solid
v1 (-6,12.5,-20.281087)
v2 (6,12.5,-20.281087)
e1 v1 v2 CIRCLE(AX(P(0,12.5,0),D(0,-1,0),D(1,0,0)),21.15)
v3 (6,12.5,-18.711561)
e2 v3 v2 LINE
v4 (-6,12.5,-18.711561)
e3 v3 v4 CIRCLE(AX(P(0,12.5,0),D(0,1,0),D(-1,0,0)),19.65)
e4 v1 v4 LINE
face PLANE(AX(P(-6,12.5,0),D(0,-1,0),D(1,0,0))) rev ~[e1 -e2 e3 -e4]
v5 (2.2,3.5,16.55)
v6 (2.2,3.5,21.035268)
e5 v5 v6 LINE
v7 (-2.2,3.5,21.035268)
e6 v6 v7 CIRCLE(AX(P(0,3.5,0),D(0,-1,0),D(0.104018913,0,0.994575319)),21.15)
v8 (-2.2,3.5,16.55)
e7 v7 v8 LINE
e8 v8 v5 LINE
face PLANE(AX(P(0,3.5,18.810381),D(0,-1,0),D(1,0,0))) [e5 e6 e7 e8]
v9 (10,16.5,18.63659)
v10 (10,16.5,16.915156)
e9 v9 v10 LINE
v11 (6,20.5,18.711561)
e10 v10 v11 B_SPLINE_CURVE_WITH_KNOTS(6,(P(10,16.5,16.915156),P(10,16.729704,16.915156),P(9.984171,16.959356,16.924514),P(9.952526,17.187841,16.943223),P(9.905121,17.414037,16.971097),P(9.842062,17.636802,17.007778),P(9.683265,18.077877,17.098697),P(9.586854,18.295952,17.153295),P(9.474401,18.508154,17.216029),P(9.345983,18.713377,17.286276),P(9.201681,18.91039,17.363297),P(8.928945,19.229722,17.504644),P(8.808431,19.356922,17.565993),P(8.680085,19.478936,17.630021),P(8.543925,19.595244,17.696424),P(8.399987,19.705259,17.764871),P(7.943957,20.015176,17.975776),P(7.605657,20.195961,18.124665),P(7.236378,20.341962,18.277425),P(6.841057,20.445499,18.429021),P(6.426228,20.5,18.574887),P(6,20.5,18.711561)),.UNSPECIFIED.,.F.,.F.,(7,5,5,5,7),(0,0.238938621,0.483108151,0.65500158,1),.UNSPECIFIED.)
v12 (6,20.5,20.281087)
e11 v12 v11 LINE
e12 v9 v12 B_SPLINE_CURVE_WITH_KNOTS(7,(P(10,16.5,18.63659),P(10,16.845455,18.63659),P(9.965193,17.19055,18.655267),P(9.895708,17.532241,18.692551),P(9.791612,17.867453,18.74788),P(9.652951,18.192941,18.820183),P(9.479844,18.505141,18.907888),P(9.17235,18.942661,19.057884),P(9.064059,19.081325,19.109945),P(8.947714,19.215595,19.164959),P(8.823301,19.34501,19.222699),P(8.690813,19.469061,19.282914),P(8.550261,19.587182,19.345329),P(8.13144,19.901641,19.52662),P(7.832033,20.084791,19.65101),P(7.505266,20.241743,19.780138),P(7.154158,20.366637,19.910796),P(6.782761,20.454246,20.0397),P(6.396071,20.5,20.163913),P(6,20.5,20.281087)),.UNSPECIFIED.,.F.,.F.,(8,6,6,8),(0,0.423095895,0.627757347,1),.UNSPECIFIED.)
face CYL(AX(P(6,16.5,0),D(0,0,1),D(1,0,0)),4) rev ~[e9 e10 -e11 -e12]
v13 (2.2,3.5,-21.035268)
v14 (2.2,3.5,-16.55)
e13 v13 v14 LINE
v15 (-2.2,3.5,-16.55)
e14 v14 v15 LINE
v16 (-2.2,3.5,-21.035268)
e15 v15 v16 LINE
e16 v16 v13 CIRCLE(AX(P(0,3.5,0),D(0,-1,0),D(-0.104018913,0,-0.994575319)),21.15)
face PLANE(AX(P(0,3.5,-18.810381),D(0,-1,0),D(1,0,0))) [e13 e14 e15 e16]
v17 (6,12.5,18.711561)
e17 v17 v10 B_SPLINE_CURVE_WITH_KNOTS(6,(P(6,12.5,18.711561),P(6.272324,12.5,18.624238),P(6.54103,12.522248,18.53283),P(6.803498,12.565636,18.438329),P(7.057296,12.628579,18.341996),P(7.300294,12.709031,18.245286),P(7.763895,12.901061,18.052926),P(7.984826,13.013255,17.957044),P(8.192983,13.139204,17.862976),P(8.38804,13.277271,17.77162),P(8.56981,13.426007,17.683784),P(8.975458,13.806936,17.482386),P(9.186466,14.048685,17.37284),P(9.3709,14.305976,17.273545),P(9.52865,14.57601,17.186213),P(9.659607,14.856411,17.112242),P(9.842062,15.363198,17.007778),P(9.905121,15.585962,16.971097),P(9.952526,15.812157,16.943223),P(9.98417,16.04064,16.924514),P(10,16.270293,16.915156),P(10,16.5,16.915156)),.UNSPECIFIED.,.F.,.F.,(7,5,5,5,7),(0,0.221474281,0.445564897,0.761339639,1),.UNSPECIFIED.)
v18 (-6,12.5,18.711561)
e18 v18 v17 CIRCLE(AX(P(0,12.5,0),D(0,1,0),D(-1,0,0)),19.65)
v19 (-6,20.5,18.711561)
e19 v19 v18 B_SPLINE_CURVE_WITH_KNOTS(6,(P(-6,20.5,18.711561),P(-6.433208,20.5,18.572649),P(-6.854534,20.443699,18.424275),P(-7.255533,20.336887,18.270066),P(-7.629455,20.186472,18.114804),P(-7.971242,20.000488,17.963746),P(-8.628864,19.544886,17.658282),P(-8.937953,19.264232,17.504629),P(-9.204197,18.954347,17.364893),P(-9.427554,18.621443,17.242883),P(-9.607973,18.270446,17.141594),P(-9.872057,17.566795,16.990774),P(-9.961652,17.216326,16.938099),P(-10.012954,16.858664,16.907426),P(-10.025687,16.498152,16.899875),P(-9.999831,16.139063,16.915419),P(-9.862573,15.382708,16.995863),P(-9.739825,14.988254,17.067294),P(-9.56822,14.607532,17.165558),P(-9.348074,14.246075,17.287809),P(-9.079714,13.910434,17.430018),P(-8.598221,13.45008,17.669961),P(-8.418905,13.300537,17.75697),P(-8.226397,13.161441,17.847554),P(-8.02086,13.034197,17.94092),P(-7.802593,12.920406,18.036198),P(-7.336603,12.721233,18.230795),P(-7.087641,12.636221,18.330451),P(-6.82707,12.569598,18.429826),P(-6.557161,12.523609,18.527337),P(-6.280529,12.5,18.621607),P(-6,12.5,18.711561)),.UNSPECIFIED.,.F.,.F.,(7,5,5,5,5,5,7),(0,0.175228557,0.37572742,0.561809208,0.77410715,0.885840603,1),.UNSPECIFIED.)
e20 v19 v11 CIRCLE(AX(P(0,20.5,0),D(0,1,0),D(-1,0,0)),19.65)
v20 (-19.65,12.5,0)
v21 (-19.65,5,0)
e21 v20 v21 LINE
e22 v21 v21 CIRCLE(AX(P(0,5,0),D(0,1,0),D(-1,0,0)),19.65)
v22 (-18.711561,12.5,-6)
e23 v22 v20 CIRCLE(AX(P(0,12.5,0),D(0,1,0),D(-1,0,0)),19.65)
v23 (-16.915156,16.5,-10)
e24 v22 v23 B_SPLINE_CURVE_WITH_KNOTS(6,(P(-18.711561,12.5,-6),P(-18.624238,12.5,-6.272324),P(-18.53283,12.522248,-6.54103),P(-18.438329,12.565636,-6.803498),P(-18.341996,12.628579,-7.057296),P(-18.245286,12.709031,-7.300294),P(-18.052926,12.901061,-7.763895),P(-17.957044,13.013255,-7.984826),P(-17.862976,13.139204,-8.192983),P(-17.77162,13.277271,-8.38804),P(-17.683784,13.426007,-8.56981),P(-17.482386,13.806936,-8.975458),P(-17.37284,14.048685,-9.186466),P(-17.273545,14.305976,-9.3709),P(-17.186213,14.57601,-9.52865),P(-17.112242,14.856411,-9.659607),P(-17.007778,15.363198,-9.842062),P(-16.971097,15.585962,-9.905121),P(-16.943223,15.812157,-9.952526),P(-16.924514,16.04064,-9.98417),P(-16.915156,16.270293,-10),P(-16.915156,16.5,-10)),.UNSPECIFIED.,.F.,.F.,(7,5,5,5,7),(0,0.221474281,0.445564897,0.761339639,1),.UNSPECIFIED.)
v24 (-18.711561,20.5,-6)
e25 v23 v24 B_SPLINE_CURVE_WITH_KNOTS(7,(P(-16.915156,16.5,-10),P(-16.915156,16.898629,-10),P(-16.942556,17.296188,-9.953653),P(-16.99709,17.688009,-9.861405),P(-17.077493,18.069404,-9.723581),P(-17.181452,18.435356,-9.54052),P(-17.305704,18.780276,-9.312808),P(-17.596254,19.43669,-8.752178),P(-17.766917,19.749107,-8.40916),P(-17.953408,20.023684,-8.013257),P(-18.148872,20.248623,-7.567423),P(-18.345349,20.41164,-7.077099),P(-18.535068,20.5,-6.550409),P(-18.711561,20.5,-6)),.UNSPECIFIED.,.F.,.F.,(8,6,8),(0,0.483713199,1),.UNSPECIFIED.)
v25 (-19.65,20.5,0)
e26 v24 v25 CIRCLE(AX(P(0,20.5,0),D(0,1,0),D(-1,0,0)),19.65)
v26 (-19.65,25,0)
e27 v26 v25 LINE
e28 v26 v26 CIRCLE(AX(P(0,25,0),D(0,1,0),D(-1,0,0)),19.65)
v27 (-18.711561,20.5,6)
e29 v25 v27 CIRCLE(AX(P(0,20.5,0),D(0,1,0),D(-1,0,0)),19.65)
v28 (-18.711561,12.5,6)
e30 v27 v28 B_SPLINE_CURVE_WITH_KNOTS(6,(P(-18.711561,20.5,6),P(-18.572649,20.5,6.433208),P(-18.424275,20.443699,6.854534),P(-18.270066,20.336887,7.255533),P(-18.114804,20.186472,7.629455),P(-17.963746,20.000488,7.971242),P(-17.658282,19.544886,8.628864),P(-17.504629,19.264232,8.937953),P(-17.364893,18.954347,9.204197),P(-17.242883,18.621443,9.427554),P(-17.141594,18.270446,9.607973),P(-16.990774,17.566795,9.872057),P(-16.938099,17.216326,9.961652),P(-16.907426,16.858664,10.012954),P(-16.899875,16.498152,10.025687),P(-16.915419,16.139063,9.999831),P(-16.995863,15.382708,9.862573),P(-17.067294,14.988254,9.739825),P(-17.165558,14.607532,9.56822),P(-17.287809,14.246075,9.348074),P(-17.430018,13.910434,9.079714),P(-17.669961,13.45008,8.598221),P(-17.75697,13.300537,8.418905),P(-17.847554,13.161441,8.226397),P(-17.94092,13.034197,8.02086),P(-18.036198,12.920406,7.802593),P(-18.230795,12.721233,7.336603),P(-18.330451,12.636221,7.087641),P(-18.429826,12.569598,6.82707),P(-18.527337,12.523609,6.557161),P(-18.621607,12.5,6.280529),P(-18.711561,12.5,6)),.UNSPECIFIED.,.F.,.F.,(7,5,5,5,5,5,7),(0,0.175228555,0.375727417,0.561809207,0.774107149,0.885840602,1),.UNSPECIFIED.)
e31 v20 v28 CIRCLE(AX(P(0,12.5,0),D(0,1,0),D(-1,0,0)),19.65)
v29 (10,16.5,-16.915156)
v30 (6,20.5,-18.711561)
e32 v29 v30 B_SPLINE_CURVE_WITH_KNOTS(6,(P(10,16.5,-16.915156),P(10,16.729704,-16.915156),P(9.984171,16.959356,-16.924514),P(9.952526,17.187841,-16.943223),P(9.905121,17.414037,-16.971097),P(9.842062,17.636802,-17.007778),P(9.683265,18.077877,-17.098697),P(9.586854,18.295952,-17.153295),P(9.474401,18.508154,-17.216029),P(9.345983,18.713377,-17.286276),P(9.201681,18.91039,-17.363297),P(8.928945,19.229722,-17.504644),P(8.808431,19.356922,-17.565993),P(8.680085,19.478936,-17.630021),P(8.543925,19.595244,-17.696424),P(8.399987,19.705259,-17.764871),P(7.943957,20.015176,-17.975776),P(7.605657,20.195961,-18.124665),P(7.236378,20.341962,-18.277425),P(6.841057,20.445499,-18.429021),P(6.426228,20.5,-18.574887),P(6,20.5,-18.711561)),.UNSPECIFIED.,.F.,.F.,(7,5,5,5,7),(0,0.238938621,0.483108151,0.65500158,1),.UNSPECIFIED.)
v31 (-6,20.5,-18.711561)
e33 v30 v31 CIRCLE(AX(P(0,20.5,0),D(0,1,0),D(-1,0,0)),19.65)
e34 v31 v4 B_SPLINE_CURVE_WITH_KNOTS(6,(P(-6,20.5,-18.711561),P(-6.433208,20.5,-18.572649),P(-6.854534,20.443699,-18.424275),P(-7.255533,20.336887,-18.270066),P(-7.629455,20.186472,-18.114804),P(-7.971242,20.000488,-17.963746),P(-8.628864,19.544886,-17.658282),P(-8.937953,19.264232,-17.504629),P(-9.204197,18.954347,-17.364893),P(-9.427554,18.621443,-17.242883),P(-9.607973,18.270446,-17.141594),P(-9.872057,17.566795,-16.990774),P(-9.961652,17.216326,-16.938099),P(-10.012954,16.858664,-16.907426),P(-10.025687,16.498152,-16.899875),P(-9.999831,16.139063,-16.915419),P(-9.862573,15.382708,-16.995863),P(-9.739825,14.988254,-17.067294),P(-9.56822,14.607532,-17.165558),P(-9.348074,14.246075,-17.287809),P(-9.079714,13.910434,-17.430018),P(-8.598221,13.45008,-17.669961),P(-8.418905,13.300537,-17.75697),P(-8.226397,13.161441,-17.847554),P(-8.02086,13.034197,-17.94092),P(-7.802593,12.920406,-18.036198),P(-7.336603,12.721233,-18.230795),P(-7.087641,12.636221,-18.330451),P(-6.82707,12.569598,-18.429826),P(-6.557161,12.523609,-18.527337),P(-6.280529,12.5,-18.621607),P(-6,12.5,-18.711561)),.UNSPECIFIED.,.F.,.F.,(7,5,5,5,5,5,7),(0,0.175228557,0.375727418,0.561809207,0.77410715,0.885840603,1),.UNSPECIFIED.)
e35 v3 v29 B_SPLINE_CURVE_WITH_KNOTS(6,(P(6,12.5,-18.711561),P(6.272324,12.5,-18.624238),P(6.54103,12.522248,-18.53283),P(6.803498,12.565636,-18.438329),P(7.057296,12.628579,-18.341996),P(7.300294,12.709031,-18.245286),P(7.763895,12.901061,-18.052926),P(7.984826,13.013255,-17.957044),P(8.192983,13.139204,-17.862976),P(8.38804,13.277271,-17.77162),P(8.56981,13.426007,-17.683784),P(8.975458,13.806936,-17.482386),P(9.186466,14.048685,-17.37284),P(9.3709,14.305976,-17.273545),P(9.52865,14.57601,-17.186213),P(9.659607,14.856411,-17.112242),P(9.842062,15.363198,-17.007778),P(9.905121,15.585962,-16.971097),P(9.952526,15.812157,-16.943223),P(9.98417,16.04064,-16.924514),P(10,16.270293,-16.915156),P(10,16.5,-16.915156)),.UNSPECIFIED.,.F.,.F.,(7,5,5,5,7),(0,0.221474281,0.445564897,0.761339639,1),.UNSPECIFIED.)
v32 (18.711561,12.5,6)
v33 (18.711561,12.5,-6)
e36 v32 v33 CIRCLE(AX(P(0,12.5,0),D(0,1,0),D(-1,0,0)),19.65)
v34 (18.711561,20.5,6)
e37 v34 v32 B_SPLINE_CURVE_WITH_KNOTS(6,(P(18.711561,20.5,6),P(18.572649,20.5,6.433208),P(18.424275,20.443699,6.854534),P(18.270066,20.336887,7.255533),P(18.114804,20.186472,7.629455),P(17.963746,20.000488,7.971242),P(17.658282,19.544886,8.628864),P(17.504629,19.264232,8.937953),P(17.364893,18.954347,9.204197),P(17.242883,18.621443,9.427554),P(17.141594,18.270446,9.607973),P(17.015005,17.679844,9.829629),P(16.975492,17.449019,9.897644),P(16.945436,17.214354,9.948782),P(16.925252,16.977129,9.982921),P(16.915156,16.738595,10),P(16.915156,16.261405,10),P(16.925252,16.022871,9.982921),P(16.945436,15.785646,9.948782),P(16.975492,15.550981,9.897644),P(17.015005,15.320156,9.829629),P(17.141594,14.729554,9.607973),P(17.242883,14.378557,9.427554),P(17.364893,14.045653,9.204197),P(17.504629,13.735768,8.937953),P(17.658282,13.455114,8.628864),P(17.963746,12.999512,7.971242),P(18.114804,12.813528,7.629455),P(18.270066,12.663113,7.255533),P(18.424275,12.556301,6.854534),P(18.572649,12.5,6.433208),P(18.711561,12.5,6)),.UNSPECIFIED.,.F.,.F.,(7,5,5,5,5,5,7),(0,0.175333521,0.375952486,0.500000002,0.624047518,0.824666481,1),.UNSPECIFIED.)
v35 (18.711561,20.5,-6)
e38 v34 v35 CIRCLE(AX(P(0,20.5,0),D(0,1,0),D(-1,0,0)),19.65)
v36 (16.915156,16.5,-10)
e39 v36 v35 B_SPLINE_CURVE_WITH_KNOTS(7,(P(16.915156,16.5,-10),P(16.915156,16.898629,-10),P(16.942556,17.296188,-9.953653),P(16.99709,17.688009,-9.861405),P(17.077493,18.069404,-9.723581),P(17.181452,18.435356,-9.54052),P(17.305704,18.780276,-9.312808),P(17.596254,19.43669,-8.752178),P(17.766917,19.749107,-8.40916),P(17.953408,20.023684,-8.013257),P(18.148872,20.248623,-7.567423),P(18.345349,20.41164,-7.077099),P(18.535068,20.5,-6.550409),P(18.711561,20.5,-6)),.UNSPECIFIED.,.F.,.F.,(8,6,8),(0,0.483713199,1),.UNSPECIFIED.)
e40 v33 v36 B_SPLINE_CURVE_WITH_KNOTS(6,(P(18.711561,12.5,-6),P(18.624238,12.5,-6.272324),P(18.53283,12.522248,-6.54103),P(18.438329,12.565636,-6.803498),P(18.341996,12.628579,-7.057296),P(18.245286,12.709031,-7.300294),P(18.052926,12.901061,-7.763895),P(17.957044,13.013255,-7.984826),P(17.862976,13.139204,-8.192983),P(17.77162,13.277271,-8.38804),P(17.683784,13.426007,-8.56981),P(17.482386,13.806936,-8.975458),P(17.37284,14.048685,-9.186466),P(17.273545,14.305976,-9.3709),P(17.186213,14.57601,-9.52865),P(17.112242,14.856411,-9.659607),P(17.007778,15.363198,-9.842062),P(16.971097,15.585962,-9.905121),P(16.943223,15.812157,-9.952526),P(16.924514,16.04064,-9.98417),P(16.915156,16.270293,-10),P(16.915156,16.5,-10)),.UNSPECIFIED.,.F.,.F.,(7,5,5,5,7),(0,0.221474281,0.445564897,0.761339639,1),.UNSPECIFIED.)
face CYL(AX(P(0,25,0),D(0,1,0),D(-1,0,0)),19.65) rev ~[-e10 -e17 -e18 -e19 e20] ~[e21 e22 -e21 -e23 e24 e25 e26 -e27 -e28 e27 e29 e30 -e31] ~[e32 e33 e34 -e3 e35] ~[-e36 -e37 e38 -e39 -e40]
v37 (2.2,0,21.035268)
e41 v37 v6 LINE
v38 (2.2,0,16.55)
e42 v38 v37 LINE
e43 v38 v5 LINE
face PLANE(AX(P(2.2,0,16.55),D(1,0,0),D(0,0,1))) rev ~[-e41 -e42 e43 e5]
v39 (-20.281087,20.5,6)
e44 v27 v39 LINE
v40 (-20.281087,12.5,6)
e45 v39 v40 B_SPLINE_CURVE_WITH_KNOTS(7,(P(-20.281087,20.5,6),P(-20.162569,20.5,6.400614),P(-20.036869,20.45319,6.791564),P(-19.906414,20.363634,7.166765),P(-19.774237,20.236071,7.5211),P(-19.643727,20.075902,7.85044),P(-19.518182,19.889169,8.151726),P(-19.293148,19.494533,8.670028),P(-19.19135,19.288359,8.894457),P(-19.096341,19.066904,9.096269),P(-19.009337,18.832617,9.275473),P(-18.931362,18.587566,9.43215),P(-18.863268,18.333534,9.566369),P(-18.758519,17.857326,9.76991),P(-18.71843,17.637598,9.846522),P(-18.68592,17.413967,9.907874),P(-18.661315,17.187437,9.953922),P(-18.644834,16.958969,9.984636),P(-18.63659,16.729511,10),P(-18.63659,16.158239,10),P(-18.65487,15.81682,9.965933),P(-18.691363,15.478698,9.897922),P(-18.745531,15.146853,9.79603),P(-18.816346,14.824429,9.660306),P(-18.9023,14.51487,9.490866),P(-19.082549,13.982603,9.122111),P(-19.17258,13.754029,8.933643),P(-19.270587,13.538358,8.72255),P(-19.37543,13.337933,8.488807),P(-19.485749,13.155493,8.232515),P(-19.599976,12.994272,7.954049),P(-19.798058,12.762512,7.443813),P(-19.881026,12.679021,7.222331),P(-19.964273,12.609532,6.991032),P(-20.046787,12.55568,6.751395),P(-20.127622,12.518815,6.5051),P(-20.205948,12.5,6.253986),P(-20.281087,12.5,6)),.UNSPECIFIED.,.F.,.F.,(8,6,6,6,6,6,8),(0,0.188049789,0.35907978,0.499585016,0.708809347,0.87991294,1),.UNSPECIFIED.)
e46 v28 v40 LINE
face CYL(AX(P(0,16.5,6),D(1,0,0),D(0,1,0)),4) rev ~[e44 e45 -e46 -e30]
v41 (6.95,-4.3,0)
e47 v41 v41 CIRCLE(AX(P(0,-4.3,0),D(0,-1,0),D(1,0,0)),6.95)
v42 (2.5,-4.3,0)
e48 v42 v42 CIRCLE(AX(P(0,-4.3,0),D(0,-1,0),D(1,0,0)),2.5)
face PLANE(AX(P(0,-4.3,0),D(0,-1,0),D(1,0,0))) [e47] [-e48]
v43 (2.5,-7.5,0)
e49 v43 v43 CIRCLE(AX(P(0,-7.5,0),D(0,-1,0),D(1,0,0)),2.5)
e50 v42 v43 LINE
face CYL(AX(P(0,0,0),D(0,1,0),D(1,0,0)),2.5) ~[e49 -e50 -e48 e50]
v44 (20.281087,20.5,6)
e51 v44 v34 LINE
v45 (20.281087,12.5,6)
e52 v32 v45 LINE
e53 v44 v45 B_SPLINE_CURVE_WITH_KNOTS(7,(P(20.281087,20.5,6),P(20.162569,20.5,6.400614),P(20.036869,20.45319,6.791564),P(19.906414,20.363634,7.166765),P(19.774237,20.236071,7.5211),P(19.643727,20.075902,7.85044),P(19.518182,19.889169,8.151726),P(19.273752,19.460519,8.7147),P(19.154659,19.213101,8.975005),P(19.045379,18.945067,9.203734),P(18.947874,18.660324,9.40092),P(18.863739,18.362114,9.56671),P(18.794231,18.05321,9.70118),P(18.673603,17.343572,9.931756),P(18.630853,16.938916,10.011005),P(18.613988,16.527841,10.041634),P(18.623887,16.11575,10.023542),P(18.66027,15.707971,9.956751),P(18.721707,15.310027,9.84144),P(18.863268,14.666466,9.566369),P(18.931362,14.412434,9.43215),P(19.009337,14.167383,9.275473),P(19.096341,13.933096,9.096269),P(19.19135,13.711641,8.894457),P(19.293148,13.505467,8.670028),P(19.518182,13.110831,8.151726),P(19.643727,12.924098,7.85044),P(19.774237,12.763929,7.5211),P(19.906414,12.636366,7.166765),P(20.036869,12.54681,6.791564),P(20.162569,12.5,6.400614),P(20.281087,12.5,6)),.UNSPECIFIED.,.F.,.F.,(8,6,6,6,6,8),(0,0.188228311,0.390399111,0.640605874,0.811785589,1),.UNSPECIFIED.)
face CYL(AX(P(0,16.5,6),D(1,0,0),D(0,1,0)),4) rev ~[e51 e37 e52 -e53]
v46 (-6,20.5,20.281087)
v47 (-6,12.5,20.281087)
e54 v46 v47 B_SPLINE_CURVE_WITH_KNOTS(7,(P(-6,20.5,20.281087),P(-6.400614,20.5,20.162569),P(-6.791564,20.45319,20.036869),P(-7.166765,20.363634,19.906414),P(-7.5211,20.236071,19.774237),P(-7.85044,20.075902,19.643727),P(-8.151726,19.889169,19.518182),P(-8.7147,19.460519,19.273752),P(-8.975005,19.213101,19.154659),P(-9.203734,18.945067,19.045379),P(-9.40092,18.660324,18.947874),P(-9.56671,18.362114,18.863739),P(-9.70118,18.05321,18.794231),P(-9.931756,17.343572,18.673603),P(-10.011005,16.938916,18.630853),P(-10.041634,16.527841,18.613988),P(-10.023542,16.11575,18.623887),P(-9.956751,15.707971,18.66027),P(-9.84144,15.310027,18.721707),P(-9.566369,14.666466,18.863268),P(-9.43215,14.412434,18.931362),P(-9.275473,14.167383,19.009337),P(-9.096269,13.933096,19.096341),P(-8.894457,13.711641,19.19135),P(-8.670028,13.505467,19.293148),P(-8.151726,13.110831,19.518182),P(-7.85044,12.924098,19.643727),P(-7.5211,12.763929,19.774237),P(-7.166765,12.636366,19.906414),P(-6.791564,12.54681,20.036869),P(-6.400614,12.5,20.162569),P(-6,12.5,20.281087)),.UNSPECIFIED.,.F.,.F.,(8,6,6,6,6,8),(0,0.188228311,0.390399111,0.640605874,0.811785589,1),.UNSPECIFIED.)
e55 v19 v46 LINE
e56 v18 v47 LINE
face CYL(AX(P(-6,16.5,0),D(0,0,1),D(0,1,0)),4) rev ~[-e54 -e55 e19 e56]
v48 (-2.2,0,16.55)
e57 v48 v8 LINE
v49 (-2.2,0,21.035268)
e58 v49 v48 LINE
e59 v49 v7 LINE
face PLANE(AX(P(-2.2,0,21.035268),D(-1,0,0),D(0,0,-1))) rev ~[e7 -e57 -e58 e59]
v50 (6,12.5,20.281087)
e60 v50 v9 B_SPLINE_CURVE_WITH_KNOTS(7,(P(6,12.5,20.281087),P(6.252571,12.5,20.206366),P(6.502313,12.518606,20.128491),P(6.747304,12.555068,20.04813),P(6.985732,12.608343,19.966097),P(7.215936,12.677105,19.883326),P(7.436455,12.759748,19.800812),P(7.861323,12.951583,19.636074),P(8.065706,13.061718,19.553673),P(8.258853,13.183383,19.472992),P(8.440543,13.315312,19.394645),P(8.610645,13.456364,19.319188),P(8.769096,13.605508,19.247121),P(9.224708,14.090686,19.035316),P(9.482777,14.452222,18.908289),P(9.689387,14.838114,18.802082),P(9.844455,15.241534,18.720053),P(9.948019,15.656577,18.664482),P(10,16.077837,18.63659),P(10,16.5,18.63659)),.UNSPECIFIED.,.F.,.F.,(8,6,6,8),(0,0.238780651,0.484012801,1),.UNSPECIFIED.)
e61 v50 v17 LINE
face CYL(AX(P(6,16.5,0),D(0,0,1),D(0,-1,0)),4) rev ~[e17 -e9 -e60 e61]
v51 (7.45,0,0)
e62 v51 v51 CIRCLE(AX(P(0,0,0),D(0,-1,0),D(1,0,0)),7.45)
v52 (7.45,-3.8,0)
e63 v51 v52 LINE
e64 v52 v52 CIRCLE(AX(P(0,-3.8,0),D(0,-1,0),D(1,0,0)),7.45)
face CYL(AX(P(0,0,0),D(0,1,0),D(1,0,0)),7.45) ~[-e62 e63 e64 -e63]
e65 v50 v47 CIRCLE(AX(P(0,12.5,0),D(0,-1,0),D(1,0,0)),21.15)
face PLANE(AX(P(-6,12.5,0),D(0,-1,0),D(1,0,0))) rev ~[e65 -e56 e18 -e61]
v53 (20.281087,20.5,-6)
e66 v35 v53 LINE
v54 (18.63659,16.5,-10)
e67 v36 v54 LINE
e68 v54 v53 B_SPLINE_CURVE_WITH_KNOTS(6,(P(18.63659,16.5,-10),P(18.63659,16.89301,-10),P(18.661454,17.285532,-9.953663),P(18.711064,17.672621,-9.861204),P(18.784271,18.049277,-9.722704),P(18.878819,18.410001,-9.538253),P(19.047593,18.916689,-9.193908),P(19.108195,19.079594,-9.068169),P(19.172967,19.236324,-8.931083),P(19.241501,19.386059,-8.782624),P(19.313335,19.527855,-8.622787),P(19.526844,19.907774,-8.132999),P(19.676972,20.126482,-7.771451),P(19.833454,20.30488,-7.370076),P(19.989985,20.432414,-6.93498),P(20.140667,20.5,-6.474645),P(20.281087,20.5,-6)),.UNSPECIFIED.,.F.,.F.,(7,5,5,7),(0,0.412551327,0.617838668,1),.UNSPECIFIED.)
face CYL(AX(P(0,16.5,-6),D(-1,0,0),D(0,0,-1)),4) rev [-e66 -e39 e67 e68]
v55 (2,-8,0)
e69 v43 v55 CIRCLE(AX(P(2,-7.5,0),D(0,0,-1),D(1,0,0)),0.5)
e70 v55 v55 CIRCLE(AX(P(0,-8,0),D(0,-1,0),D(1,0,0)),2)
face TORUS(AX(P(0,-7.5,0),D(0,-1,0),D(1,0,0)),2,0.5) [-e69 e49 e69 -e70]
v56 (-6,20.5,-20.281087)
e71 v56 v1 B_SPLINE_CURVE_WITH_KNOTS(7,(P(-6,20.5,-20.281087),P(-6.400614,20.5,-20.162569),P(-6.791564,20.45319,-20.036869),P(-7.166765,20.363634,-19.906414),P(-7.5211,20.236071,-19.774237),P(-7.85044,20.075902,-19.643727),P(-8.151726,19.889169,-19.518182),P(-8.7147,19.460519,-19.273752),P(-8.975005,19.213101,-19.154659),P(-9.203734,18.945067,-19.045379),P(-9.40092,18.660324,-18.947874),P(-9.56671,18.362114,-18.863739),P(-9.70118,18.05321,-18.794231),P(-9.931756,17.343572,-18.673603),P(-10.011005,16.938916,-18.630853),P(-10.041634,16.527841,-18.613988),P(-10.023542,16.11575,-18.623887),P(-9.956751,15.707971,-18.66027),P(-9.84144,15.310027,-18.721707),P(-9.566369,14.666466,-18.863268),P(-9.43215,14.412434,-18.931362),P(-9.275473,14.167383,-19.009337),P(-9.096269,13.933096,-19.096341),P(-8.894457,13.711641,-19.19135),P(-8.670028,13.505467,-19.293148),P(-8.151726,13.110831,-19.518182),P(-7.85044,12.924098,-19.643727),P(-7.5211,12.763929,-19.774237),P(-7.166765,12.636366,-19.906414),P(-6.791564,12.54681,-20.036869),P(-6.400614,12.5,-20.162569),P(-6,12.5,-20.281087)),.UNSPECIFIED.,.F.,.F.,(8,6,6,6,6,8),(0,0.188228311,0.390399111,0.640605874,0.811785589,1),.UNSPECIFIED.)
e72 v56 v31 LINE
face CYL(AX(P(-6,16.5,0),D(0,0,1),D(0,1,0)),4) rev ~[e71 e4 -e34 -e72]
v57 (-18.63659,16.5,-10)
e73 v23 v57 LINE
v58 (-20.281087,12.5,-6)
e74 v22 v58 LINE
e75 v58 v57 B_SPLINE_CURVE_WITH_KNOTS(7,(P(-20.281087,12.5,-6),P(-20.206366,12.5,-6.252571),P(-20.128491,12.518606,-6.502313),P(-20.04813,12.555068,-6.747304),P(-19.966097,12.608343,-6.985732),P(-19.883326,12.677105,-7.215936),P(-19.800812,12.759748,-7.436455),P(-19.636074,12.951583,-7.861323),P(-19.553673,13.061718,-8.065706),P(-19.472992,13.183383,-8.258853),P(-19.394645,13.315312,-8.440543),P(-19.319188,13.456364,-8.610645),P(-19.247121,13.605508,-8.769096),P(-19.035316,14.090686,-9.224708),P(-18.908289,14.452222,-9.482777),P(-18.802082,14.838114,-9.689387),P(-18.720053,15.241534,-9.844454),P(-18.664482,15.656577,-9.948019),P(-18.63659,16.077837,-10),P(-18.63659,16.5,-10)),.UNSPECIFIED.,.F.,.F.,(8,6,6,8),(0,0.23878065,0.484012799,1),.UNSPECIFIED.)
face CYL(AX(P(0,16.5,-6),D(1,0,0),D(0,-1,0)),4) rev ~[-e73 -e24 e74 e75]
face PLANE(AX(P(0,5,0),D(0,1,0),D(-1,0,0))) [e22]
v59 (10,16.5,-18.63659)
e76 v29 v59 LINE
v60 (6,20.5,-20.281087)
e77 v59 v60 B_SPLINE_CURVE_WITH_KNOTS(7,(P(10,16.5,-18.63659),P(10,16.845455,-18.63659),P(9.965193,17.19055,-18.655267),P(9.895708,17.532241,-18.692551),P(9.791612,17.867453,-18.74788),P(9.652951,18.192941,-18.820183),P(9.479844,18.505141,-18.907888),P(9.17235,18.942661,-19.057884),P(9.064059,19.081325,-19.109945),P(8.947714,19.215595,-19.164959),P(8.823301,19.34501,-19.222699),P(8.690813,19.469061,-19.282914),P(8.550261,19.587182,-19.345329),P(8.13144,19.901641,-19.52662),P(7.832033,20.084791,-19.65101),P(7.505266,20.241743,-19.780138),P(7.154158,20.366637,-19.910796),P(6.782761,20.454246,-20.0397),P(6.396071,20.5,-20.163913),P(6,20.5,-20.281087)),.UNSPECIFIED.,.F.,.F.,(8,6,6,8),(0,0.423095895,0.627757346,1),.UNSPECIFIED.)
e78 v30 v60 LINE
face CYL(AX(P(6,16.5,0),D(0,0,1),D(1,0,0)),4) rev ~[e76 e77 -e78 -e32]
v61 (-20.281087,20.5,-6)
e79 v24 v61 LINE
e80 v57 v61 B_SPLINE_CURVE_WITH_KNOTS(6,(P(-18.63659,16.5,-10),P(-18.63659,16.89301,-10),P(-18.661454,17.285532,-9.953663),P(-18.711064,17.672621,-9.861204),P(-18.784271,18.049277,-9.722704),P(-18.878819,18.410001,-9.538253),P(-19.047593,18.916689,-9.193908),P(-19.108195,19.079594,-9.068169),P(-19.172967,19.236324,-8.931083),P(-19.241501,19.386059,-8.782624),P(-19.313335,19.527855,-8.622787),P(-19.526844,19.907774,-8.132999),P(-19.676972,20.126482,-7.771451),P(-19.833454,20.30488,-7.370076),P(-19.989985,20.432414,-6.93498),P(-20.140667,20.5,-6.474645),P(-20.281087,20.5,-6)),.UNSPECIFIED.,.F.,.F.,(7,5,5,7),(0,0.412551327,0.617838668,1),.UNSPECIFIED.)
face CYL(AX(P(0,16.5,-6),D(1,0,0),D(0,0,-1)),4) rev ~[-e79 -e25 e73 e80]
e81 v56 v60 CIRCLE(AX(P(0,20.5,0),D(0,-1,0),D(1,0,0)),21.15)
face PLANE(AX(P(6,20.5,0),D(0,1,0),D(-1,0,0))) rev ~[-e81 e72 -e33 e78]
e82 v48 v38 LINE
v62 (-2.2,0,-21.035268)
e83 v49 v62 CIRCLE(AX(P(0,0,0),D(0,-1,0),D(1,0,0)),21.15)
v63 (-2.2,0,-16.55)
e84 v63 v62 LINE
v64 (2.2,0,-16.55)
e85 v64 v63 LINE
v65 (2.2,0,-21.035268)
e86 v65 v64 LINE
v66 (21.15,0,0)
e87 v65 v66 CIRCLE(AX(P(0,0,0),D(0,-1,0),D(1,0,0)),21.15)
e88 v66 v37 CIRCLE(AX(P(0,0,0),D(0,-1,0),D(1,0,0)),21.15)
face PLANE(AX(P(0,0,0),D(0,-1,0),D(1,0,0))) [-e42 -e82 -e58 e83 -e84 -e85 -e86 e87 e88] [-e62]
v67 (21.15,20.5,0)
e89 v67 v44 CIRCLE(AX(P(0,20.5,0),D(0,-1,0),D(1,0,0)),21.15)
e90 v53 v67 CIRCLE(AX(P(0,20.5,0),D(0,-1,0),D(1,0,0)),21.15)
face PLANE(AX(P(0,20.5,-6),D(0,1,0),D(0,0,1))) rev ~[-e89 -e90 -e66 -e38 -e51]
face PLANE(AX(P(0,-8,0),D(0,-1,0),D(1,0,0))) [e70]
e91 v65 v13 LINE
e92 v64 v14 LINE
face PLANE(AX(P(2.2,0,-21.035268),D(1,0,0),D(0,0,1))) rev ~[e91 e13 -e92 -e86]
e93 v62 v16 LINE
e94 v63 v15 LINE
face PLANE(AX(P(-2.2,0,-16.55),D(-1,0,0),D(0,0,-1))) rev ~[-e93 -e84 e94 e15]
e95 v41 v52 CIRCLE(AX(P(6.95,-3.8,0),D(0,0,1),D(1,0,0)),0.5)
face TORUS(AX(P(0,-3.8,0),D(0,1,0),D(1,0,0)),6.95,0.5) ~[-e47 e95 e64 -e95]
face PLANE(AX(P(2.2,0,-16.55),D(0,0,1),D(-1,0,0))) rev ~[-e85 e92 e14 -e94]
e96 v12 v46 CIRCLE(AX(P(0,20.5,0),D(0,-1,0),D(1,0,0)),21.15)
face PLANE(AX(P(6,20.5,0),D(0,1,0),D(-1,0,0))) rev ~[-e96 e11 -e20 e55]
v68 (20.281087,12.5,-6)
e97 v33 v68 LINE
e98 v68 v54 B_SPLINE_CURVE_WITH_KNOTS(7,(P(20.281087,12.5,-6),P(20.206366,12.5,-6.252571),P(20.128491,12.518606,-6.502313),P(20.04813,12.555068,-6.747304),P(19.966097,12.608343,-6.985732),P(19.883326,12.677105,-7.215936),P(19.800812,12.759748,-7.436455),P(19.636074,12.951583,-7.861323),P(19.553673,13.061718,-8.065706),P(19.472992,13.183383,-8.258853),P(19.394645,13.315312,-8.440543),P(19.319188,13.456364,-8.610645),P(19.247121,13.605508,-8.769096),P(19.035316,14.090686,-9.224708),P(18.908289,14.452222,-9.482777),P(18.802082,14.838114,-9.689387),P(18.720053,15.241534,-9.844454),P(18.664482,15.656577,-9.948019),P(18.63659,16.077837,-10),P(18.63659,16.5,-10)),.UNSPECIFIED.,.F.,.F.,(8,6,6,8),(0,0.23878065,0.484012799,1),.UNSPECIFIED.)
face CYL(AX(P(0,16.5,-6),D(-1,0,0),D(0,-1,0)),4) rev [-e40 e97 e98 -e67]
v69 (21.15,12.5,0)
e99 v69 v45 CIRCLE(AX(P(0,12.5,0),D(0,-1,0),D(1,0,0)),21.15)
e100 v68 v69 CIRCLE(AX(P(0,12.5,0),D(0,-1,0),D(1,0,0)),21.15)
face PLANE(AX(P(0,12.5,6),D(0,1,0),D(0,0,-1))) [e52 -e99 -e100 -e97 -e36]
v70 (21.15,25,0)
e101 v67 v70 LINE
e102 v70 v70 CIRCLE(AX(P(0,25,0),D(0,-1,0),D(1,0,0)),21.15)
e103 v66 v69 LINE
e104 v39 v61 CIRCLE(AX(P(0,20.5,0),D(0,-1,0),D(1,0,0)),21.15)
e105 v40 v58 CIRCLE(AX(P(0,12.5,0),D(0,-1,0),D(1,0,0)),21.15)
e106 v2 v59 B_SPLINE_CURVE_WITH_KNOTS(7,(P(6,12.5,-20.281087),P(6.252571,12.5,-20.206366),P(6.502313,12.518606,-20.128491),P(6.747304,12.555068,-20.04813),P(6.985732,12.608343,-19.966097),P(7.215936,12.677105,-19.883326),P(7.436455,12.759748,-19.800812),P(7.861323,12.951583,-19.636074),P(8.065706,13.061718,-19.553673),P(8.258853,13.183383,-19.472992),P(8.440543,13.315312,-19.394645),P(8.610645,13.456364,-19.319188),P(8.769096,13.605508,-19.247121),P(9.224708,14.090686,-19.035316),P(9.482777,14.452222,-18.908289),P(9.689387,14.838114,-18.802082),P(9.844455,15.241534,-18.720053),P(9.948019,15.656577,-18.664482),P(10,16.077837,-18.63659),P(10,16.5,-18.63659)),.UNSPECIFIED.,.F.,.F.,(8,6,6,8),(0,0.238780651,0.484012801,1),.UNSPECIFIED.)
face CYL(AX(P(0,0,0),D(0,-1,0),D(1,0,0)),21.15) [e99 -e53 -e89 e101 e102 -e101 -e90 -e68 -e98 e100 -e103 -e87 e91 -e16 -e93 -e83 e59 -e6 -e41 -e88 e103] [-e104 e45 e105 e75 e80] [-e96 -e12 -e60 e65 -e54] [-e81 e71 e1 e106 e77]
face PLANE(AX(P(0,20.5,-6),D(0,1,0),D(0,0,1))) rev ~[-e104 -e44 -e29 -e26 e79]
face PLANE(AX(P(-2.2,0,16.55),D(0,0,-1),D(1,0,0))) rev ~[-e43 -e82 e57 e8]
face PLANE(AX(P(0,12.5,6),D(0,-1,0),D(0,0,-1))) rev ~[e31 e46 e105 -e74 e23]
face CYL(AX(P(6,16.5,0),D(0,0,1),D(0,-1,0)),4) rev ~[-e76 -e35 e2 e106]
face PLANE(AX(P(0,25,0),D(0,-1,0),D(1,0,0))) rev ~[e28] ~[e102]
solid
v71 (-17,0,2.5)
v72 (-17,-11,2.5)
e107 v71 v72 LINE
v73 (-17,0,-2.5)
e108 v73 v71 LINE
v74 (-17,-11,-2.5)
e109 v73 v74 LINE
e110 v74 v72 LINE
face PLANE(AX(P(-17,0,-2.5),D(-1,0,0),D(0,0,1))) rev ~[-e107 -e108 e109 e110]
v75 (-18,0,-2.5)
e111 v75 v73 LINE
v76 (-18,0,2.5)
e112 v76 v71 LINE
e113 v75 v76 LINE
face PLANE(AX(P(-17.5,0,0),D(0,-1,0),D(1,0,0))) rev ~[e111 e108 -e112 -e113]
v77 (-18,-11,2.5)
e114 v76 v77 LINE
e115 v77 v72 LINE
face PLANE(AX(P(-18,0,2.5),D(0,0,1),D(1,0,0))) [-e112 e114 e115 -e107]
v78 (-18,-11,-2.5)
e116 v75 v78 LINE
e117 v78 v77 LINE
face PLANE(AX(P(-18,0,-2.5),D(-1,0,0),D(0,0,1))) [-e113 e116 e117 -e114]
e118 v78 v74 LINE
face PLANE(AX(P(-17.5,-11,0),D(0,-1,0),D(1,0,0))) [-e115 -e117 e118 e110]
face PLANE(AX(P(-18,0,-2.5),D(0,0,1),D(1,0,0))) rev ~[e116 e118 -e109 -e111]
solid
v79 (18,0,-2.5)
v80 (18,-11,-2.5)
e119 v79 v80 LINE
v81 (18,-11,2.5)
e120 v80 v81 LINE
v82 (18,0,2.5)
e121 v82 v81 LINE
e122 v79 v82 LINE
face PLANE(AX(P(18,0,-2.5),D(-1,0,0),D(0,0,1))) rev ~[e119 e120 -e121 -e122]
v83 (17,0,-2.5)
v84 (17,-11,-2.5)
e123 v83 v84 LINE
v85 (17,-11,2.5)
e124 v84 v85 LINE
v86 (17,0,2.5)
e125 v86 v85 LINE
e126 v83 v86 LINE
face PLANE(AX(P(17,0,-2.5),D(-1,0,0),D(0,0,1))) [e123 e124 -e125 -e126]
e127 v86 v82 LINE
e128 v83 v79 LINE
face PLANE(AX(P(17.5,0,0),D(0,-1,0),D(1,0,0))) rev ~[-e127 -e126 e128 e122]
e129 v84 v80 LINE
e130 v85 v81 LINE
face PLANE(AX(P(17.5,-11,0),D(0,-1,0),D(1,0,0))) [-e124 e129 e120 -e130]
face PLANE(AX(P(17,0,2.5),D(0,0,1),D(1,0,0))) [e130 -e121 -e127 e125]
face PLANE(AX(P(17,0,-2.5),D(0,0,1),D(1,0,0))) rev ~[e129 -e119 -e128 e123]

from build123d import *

# Parameters (mm, degrees)
F0_W      = 1
F0_H      = 5
F1_DEPTH  = 11
F0_R      = 21.15
F2_DEPTH  = 25
F3_R      = 19.65
F4_DEPTH  = 20
F6_DEPTH  = 22.5
F8_DEPTH  = 22.5
F10_DEPTH = 3.5
F11_R     = 7.45
F11_R_2   = 2.5
F12_DEPTH = 4.3
F13_DEPTH = 8
F14_R     = 0.5


with BuildPart() as f1:
    # F0 (on Front) → F1 (new body)
    with BuildSketch(Plane.XZ):
        with Locations((17.5, 0)):
            Rectangle(F0_W, F0_H)
    extrude(amount=F1_DEPTH)


with BuildPart() as f1b:
    # F0 (on Front) → F1, piece 2 (new body)
    with BuildSketch(Plane.XZ):
        with Locations((-17.5, 0)):
            Rectangle(F0_W, F0_H)
    extrude(amount=F1_DEPTH)


with BuildPart() as f2:
    # F0 (on Front) → F2 (new body)
    with BuildSketch(Plane.XZ):
        Circle(F0_R)
        with Locations((-17.5, 0)):
            Rectangle(F0_W, F0_H, mode=Mode.SUBTRACT)
        with Locations((17.5, 0)):
            Rectangle(F0_W, F0_H, mode=Mode.SUBTRACT)
        with Locations((-17.5, 0)):
            Rectangle(F0_W, F0_H)
        with Locations((17.5, 0)):
            Rectangle(F0_W, F0_H)
    extrude(amount=-F2_DEPTH)

    # F3 (on face) → F4 (cut)
    with BuildSketch(Plane(origin=(0, 25, 0), x_dir=(-1, 0, 0), z_dir=(0, 1, 0))):
        Circle(F3_R)
    extrude(amount=-F4_DEPTH, mode=Mode.SUBTRACT)

    # F5 (on Right) → F6 (cut, symmetric)
    with BuildSketch(Plane.YZ):
        with BuildLine():
            ThreePointArc((20.5, 6), (19.3284271247, 8.8284271247), (16.5, 10))
            ThreePointArc((16.5, 10), (13.6715728753, 8.8284271247), (12.5, 6))
            Line((12.5, 6), (12.5, -6))
            ThreePointArc((12.5, -6), (13.6715728753, -8.8284271247), (16.5, -10))
            ThreePointArc((16.5, -10), (19.3284271247, -8.8284271247), (20.5, -6))
            Line((20.5, -6), (20.5, 6))
        make_face()
    extrude(amount=F6_DEPTH, both=True, mode=Mode.SUBTRACT)

    # F7 (on Top) → F8 (cut, symmetric)
    with BuildSketch(Plane.XY):
        with BuildLine():
            Line((6, 20.5), (-6, 20.5))
            ThreePointArc((-6, 20.5), (-8.8284271247, 19.3284271247), (-10, 16.5))
            ThreePointArc((-10, 16.5), (-8.8284271247, 13.6715728753), (-6, 12.5))
            Line((-6, 12.5), (6, 12.5))
            ThreePointArc((6, 12.5), (8.8284271247, 13.6715728753), (10, 16.5))
            ThreePointArc((10, 16.5), (8.8284271247, 19.3284271247), (6, 20.5))
        make_face()
    extrude(amount=F8_DEPTH, both=True, mode=Mode.SUBTRACT)

    # F9 (on face) → F10 (cut)
    with BuildSketch(Plane.XZ):
        with BuildLine():
            Line((2.2, 16.55), (2.2, 21.035268004))
            ThreePointArc((2.2, 21.035268004), (0, 21.15), (-2.2, 21.035268004))
            Line((-2.2, 21.035268004), (-2.2, 16.55))
            Line((-2.2, 16.55), (2.2, 16.55))
        make_face()
        with BuildLine():
            ThreePointArc((-2.2, -21.035268004), (0, -21.15), (2.2, -21.035268004))
            Line((2.2, -21.035268004), (2.2, -16.55))
            Line((2.2, -16.55), (-2.2, -16.55))
            Line((-2.2, -16.55), (-2.2, -21.035268004))
        make_face()
    extrude(amount=-F10_DEPTH, mode=Mode.SUBTRACT)

    # F11 (on face) → F12 (join)
    with BuildSketch(Plane.XZ):
        Circle(F11_R)
        Circle(F11_R_2, mode=Mode.SUBTRACT)
    extrude(amount=F12_DEPTH)

    # F13 (add): a face of the model
    f13_faces = [f2.faces().sort_by_distance(p)[0] for p in [
        (0, 0, 0),
    ]]
    extrude(f13_faces, amount=F13_DEPTH)

    # F14
    f14_edges = [f2.edges().sort_by_distance(p)[0] for p in [
        (-7.45, -4.3, 0),
        (-2.5, -8, 0),
    ]]
    fillet(f14_edges, radius=F14_R)


solid = Compound([f1.part, f1b.part, f2.part])
